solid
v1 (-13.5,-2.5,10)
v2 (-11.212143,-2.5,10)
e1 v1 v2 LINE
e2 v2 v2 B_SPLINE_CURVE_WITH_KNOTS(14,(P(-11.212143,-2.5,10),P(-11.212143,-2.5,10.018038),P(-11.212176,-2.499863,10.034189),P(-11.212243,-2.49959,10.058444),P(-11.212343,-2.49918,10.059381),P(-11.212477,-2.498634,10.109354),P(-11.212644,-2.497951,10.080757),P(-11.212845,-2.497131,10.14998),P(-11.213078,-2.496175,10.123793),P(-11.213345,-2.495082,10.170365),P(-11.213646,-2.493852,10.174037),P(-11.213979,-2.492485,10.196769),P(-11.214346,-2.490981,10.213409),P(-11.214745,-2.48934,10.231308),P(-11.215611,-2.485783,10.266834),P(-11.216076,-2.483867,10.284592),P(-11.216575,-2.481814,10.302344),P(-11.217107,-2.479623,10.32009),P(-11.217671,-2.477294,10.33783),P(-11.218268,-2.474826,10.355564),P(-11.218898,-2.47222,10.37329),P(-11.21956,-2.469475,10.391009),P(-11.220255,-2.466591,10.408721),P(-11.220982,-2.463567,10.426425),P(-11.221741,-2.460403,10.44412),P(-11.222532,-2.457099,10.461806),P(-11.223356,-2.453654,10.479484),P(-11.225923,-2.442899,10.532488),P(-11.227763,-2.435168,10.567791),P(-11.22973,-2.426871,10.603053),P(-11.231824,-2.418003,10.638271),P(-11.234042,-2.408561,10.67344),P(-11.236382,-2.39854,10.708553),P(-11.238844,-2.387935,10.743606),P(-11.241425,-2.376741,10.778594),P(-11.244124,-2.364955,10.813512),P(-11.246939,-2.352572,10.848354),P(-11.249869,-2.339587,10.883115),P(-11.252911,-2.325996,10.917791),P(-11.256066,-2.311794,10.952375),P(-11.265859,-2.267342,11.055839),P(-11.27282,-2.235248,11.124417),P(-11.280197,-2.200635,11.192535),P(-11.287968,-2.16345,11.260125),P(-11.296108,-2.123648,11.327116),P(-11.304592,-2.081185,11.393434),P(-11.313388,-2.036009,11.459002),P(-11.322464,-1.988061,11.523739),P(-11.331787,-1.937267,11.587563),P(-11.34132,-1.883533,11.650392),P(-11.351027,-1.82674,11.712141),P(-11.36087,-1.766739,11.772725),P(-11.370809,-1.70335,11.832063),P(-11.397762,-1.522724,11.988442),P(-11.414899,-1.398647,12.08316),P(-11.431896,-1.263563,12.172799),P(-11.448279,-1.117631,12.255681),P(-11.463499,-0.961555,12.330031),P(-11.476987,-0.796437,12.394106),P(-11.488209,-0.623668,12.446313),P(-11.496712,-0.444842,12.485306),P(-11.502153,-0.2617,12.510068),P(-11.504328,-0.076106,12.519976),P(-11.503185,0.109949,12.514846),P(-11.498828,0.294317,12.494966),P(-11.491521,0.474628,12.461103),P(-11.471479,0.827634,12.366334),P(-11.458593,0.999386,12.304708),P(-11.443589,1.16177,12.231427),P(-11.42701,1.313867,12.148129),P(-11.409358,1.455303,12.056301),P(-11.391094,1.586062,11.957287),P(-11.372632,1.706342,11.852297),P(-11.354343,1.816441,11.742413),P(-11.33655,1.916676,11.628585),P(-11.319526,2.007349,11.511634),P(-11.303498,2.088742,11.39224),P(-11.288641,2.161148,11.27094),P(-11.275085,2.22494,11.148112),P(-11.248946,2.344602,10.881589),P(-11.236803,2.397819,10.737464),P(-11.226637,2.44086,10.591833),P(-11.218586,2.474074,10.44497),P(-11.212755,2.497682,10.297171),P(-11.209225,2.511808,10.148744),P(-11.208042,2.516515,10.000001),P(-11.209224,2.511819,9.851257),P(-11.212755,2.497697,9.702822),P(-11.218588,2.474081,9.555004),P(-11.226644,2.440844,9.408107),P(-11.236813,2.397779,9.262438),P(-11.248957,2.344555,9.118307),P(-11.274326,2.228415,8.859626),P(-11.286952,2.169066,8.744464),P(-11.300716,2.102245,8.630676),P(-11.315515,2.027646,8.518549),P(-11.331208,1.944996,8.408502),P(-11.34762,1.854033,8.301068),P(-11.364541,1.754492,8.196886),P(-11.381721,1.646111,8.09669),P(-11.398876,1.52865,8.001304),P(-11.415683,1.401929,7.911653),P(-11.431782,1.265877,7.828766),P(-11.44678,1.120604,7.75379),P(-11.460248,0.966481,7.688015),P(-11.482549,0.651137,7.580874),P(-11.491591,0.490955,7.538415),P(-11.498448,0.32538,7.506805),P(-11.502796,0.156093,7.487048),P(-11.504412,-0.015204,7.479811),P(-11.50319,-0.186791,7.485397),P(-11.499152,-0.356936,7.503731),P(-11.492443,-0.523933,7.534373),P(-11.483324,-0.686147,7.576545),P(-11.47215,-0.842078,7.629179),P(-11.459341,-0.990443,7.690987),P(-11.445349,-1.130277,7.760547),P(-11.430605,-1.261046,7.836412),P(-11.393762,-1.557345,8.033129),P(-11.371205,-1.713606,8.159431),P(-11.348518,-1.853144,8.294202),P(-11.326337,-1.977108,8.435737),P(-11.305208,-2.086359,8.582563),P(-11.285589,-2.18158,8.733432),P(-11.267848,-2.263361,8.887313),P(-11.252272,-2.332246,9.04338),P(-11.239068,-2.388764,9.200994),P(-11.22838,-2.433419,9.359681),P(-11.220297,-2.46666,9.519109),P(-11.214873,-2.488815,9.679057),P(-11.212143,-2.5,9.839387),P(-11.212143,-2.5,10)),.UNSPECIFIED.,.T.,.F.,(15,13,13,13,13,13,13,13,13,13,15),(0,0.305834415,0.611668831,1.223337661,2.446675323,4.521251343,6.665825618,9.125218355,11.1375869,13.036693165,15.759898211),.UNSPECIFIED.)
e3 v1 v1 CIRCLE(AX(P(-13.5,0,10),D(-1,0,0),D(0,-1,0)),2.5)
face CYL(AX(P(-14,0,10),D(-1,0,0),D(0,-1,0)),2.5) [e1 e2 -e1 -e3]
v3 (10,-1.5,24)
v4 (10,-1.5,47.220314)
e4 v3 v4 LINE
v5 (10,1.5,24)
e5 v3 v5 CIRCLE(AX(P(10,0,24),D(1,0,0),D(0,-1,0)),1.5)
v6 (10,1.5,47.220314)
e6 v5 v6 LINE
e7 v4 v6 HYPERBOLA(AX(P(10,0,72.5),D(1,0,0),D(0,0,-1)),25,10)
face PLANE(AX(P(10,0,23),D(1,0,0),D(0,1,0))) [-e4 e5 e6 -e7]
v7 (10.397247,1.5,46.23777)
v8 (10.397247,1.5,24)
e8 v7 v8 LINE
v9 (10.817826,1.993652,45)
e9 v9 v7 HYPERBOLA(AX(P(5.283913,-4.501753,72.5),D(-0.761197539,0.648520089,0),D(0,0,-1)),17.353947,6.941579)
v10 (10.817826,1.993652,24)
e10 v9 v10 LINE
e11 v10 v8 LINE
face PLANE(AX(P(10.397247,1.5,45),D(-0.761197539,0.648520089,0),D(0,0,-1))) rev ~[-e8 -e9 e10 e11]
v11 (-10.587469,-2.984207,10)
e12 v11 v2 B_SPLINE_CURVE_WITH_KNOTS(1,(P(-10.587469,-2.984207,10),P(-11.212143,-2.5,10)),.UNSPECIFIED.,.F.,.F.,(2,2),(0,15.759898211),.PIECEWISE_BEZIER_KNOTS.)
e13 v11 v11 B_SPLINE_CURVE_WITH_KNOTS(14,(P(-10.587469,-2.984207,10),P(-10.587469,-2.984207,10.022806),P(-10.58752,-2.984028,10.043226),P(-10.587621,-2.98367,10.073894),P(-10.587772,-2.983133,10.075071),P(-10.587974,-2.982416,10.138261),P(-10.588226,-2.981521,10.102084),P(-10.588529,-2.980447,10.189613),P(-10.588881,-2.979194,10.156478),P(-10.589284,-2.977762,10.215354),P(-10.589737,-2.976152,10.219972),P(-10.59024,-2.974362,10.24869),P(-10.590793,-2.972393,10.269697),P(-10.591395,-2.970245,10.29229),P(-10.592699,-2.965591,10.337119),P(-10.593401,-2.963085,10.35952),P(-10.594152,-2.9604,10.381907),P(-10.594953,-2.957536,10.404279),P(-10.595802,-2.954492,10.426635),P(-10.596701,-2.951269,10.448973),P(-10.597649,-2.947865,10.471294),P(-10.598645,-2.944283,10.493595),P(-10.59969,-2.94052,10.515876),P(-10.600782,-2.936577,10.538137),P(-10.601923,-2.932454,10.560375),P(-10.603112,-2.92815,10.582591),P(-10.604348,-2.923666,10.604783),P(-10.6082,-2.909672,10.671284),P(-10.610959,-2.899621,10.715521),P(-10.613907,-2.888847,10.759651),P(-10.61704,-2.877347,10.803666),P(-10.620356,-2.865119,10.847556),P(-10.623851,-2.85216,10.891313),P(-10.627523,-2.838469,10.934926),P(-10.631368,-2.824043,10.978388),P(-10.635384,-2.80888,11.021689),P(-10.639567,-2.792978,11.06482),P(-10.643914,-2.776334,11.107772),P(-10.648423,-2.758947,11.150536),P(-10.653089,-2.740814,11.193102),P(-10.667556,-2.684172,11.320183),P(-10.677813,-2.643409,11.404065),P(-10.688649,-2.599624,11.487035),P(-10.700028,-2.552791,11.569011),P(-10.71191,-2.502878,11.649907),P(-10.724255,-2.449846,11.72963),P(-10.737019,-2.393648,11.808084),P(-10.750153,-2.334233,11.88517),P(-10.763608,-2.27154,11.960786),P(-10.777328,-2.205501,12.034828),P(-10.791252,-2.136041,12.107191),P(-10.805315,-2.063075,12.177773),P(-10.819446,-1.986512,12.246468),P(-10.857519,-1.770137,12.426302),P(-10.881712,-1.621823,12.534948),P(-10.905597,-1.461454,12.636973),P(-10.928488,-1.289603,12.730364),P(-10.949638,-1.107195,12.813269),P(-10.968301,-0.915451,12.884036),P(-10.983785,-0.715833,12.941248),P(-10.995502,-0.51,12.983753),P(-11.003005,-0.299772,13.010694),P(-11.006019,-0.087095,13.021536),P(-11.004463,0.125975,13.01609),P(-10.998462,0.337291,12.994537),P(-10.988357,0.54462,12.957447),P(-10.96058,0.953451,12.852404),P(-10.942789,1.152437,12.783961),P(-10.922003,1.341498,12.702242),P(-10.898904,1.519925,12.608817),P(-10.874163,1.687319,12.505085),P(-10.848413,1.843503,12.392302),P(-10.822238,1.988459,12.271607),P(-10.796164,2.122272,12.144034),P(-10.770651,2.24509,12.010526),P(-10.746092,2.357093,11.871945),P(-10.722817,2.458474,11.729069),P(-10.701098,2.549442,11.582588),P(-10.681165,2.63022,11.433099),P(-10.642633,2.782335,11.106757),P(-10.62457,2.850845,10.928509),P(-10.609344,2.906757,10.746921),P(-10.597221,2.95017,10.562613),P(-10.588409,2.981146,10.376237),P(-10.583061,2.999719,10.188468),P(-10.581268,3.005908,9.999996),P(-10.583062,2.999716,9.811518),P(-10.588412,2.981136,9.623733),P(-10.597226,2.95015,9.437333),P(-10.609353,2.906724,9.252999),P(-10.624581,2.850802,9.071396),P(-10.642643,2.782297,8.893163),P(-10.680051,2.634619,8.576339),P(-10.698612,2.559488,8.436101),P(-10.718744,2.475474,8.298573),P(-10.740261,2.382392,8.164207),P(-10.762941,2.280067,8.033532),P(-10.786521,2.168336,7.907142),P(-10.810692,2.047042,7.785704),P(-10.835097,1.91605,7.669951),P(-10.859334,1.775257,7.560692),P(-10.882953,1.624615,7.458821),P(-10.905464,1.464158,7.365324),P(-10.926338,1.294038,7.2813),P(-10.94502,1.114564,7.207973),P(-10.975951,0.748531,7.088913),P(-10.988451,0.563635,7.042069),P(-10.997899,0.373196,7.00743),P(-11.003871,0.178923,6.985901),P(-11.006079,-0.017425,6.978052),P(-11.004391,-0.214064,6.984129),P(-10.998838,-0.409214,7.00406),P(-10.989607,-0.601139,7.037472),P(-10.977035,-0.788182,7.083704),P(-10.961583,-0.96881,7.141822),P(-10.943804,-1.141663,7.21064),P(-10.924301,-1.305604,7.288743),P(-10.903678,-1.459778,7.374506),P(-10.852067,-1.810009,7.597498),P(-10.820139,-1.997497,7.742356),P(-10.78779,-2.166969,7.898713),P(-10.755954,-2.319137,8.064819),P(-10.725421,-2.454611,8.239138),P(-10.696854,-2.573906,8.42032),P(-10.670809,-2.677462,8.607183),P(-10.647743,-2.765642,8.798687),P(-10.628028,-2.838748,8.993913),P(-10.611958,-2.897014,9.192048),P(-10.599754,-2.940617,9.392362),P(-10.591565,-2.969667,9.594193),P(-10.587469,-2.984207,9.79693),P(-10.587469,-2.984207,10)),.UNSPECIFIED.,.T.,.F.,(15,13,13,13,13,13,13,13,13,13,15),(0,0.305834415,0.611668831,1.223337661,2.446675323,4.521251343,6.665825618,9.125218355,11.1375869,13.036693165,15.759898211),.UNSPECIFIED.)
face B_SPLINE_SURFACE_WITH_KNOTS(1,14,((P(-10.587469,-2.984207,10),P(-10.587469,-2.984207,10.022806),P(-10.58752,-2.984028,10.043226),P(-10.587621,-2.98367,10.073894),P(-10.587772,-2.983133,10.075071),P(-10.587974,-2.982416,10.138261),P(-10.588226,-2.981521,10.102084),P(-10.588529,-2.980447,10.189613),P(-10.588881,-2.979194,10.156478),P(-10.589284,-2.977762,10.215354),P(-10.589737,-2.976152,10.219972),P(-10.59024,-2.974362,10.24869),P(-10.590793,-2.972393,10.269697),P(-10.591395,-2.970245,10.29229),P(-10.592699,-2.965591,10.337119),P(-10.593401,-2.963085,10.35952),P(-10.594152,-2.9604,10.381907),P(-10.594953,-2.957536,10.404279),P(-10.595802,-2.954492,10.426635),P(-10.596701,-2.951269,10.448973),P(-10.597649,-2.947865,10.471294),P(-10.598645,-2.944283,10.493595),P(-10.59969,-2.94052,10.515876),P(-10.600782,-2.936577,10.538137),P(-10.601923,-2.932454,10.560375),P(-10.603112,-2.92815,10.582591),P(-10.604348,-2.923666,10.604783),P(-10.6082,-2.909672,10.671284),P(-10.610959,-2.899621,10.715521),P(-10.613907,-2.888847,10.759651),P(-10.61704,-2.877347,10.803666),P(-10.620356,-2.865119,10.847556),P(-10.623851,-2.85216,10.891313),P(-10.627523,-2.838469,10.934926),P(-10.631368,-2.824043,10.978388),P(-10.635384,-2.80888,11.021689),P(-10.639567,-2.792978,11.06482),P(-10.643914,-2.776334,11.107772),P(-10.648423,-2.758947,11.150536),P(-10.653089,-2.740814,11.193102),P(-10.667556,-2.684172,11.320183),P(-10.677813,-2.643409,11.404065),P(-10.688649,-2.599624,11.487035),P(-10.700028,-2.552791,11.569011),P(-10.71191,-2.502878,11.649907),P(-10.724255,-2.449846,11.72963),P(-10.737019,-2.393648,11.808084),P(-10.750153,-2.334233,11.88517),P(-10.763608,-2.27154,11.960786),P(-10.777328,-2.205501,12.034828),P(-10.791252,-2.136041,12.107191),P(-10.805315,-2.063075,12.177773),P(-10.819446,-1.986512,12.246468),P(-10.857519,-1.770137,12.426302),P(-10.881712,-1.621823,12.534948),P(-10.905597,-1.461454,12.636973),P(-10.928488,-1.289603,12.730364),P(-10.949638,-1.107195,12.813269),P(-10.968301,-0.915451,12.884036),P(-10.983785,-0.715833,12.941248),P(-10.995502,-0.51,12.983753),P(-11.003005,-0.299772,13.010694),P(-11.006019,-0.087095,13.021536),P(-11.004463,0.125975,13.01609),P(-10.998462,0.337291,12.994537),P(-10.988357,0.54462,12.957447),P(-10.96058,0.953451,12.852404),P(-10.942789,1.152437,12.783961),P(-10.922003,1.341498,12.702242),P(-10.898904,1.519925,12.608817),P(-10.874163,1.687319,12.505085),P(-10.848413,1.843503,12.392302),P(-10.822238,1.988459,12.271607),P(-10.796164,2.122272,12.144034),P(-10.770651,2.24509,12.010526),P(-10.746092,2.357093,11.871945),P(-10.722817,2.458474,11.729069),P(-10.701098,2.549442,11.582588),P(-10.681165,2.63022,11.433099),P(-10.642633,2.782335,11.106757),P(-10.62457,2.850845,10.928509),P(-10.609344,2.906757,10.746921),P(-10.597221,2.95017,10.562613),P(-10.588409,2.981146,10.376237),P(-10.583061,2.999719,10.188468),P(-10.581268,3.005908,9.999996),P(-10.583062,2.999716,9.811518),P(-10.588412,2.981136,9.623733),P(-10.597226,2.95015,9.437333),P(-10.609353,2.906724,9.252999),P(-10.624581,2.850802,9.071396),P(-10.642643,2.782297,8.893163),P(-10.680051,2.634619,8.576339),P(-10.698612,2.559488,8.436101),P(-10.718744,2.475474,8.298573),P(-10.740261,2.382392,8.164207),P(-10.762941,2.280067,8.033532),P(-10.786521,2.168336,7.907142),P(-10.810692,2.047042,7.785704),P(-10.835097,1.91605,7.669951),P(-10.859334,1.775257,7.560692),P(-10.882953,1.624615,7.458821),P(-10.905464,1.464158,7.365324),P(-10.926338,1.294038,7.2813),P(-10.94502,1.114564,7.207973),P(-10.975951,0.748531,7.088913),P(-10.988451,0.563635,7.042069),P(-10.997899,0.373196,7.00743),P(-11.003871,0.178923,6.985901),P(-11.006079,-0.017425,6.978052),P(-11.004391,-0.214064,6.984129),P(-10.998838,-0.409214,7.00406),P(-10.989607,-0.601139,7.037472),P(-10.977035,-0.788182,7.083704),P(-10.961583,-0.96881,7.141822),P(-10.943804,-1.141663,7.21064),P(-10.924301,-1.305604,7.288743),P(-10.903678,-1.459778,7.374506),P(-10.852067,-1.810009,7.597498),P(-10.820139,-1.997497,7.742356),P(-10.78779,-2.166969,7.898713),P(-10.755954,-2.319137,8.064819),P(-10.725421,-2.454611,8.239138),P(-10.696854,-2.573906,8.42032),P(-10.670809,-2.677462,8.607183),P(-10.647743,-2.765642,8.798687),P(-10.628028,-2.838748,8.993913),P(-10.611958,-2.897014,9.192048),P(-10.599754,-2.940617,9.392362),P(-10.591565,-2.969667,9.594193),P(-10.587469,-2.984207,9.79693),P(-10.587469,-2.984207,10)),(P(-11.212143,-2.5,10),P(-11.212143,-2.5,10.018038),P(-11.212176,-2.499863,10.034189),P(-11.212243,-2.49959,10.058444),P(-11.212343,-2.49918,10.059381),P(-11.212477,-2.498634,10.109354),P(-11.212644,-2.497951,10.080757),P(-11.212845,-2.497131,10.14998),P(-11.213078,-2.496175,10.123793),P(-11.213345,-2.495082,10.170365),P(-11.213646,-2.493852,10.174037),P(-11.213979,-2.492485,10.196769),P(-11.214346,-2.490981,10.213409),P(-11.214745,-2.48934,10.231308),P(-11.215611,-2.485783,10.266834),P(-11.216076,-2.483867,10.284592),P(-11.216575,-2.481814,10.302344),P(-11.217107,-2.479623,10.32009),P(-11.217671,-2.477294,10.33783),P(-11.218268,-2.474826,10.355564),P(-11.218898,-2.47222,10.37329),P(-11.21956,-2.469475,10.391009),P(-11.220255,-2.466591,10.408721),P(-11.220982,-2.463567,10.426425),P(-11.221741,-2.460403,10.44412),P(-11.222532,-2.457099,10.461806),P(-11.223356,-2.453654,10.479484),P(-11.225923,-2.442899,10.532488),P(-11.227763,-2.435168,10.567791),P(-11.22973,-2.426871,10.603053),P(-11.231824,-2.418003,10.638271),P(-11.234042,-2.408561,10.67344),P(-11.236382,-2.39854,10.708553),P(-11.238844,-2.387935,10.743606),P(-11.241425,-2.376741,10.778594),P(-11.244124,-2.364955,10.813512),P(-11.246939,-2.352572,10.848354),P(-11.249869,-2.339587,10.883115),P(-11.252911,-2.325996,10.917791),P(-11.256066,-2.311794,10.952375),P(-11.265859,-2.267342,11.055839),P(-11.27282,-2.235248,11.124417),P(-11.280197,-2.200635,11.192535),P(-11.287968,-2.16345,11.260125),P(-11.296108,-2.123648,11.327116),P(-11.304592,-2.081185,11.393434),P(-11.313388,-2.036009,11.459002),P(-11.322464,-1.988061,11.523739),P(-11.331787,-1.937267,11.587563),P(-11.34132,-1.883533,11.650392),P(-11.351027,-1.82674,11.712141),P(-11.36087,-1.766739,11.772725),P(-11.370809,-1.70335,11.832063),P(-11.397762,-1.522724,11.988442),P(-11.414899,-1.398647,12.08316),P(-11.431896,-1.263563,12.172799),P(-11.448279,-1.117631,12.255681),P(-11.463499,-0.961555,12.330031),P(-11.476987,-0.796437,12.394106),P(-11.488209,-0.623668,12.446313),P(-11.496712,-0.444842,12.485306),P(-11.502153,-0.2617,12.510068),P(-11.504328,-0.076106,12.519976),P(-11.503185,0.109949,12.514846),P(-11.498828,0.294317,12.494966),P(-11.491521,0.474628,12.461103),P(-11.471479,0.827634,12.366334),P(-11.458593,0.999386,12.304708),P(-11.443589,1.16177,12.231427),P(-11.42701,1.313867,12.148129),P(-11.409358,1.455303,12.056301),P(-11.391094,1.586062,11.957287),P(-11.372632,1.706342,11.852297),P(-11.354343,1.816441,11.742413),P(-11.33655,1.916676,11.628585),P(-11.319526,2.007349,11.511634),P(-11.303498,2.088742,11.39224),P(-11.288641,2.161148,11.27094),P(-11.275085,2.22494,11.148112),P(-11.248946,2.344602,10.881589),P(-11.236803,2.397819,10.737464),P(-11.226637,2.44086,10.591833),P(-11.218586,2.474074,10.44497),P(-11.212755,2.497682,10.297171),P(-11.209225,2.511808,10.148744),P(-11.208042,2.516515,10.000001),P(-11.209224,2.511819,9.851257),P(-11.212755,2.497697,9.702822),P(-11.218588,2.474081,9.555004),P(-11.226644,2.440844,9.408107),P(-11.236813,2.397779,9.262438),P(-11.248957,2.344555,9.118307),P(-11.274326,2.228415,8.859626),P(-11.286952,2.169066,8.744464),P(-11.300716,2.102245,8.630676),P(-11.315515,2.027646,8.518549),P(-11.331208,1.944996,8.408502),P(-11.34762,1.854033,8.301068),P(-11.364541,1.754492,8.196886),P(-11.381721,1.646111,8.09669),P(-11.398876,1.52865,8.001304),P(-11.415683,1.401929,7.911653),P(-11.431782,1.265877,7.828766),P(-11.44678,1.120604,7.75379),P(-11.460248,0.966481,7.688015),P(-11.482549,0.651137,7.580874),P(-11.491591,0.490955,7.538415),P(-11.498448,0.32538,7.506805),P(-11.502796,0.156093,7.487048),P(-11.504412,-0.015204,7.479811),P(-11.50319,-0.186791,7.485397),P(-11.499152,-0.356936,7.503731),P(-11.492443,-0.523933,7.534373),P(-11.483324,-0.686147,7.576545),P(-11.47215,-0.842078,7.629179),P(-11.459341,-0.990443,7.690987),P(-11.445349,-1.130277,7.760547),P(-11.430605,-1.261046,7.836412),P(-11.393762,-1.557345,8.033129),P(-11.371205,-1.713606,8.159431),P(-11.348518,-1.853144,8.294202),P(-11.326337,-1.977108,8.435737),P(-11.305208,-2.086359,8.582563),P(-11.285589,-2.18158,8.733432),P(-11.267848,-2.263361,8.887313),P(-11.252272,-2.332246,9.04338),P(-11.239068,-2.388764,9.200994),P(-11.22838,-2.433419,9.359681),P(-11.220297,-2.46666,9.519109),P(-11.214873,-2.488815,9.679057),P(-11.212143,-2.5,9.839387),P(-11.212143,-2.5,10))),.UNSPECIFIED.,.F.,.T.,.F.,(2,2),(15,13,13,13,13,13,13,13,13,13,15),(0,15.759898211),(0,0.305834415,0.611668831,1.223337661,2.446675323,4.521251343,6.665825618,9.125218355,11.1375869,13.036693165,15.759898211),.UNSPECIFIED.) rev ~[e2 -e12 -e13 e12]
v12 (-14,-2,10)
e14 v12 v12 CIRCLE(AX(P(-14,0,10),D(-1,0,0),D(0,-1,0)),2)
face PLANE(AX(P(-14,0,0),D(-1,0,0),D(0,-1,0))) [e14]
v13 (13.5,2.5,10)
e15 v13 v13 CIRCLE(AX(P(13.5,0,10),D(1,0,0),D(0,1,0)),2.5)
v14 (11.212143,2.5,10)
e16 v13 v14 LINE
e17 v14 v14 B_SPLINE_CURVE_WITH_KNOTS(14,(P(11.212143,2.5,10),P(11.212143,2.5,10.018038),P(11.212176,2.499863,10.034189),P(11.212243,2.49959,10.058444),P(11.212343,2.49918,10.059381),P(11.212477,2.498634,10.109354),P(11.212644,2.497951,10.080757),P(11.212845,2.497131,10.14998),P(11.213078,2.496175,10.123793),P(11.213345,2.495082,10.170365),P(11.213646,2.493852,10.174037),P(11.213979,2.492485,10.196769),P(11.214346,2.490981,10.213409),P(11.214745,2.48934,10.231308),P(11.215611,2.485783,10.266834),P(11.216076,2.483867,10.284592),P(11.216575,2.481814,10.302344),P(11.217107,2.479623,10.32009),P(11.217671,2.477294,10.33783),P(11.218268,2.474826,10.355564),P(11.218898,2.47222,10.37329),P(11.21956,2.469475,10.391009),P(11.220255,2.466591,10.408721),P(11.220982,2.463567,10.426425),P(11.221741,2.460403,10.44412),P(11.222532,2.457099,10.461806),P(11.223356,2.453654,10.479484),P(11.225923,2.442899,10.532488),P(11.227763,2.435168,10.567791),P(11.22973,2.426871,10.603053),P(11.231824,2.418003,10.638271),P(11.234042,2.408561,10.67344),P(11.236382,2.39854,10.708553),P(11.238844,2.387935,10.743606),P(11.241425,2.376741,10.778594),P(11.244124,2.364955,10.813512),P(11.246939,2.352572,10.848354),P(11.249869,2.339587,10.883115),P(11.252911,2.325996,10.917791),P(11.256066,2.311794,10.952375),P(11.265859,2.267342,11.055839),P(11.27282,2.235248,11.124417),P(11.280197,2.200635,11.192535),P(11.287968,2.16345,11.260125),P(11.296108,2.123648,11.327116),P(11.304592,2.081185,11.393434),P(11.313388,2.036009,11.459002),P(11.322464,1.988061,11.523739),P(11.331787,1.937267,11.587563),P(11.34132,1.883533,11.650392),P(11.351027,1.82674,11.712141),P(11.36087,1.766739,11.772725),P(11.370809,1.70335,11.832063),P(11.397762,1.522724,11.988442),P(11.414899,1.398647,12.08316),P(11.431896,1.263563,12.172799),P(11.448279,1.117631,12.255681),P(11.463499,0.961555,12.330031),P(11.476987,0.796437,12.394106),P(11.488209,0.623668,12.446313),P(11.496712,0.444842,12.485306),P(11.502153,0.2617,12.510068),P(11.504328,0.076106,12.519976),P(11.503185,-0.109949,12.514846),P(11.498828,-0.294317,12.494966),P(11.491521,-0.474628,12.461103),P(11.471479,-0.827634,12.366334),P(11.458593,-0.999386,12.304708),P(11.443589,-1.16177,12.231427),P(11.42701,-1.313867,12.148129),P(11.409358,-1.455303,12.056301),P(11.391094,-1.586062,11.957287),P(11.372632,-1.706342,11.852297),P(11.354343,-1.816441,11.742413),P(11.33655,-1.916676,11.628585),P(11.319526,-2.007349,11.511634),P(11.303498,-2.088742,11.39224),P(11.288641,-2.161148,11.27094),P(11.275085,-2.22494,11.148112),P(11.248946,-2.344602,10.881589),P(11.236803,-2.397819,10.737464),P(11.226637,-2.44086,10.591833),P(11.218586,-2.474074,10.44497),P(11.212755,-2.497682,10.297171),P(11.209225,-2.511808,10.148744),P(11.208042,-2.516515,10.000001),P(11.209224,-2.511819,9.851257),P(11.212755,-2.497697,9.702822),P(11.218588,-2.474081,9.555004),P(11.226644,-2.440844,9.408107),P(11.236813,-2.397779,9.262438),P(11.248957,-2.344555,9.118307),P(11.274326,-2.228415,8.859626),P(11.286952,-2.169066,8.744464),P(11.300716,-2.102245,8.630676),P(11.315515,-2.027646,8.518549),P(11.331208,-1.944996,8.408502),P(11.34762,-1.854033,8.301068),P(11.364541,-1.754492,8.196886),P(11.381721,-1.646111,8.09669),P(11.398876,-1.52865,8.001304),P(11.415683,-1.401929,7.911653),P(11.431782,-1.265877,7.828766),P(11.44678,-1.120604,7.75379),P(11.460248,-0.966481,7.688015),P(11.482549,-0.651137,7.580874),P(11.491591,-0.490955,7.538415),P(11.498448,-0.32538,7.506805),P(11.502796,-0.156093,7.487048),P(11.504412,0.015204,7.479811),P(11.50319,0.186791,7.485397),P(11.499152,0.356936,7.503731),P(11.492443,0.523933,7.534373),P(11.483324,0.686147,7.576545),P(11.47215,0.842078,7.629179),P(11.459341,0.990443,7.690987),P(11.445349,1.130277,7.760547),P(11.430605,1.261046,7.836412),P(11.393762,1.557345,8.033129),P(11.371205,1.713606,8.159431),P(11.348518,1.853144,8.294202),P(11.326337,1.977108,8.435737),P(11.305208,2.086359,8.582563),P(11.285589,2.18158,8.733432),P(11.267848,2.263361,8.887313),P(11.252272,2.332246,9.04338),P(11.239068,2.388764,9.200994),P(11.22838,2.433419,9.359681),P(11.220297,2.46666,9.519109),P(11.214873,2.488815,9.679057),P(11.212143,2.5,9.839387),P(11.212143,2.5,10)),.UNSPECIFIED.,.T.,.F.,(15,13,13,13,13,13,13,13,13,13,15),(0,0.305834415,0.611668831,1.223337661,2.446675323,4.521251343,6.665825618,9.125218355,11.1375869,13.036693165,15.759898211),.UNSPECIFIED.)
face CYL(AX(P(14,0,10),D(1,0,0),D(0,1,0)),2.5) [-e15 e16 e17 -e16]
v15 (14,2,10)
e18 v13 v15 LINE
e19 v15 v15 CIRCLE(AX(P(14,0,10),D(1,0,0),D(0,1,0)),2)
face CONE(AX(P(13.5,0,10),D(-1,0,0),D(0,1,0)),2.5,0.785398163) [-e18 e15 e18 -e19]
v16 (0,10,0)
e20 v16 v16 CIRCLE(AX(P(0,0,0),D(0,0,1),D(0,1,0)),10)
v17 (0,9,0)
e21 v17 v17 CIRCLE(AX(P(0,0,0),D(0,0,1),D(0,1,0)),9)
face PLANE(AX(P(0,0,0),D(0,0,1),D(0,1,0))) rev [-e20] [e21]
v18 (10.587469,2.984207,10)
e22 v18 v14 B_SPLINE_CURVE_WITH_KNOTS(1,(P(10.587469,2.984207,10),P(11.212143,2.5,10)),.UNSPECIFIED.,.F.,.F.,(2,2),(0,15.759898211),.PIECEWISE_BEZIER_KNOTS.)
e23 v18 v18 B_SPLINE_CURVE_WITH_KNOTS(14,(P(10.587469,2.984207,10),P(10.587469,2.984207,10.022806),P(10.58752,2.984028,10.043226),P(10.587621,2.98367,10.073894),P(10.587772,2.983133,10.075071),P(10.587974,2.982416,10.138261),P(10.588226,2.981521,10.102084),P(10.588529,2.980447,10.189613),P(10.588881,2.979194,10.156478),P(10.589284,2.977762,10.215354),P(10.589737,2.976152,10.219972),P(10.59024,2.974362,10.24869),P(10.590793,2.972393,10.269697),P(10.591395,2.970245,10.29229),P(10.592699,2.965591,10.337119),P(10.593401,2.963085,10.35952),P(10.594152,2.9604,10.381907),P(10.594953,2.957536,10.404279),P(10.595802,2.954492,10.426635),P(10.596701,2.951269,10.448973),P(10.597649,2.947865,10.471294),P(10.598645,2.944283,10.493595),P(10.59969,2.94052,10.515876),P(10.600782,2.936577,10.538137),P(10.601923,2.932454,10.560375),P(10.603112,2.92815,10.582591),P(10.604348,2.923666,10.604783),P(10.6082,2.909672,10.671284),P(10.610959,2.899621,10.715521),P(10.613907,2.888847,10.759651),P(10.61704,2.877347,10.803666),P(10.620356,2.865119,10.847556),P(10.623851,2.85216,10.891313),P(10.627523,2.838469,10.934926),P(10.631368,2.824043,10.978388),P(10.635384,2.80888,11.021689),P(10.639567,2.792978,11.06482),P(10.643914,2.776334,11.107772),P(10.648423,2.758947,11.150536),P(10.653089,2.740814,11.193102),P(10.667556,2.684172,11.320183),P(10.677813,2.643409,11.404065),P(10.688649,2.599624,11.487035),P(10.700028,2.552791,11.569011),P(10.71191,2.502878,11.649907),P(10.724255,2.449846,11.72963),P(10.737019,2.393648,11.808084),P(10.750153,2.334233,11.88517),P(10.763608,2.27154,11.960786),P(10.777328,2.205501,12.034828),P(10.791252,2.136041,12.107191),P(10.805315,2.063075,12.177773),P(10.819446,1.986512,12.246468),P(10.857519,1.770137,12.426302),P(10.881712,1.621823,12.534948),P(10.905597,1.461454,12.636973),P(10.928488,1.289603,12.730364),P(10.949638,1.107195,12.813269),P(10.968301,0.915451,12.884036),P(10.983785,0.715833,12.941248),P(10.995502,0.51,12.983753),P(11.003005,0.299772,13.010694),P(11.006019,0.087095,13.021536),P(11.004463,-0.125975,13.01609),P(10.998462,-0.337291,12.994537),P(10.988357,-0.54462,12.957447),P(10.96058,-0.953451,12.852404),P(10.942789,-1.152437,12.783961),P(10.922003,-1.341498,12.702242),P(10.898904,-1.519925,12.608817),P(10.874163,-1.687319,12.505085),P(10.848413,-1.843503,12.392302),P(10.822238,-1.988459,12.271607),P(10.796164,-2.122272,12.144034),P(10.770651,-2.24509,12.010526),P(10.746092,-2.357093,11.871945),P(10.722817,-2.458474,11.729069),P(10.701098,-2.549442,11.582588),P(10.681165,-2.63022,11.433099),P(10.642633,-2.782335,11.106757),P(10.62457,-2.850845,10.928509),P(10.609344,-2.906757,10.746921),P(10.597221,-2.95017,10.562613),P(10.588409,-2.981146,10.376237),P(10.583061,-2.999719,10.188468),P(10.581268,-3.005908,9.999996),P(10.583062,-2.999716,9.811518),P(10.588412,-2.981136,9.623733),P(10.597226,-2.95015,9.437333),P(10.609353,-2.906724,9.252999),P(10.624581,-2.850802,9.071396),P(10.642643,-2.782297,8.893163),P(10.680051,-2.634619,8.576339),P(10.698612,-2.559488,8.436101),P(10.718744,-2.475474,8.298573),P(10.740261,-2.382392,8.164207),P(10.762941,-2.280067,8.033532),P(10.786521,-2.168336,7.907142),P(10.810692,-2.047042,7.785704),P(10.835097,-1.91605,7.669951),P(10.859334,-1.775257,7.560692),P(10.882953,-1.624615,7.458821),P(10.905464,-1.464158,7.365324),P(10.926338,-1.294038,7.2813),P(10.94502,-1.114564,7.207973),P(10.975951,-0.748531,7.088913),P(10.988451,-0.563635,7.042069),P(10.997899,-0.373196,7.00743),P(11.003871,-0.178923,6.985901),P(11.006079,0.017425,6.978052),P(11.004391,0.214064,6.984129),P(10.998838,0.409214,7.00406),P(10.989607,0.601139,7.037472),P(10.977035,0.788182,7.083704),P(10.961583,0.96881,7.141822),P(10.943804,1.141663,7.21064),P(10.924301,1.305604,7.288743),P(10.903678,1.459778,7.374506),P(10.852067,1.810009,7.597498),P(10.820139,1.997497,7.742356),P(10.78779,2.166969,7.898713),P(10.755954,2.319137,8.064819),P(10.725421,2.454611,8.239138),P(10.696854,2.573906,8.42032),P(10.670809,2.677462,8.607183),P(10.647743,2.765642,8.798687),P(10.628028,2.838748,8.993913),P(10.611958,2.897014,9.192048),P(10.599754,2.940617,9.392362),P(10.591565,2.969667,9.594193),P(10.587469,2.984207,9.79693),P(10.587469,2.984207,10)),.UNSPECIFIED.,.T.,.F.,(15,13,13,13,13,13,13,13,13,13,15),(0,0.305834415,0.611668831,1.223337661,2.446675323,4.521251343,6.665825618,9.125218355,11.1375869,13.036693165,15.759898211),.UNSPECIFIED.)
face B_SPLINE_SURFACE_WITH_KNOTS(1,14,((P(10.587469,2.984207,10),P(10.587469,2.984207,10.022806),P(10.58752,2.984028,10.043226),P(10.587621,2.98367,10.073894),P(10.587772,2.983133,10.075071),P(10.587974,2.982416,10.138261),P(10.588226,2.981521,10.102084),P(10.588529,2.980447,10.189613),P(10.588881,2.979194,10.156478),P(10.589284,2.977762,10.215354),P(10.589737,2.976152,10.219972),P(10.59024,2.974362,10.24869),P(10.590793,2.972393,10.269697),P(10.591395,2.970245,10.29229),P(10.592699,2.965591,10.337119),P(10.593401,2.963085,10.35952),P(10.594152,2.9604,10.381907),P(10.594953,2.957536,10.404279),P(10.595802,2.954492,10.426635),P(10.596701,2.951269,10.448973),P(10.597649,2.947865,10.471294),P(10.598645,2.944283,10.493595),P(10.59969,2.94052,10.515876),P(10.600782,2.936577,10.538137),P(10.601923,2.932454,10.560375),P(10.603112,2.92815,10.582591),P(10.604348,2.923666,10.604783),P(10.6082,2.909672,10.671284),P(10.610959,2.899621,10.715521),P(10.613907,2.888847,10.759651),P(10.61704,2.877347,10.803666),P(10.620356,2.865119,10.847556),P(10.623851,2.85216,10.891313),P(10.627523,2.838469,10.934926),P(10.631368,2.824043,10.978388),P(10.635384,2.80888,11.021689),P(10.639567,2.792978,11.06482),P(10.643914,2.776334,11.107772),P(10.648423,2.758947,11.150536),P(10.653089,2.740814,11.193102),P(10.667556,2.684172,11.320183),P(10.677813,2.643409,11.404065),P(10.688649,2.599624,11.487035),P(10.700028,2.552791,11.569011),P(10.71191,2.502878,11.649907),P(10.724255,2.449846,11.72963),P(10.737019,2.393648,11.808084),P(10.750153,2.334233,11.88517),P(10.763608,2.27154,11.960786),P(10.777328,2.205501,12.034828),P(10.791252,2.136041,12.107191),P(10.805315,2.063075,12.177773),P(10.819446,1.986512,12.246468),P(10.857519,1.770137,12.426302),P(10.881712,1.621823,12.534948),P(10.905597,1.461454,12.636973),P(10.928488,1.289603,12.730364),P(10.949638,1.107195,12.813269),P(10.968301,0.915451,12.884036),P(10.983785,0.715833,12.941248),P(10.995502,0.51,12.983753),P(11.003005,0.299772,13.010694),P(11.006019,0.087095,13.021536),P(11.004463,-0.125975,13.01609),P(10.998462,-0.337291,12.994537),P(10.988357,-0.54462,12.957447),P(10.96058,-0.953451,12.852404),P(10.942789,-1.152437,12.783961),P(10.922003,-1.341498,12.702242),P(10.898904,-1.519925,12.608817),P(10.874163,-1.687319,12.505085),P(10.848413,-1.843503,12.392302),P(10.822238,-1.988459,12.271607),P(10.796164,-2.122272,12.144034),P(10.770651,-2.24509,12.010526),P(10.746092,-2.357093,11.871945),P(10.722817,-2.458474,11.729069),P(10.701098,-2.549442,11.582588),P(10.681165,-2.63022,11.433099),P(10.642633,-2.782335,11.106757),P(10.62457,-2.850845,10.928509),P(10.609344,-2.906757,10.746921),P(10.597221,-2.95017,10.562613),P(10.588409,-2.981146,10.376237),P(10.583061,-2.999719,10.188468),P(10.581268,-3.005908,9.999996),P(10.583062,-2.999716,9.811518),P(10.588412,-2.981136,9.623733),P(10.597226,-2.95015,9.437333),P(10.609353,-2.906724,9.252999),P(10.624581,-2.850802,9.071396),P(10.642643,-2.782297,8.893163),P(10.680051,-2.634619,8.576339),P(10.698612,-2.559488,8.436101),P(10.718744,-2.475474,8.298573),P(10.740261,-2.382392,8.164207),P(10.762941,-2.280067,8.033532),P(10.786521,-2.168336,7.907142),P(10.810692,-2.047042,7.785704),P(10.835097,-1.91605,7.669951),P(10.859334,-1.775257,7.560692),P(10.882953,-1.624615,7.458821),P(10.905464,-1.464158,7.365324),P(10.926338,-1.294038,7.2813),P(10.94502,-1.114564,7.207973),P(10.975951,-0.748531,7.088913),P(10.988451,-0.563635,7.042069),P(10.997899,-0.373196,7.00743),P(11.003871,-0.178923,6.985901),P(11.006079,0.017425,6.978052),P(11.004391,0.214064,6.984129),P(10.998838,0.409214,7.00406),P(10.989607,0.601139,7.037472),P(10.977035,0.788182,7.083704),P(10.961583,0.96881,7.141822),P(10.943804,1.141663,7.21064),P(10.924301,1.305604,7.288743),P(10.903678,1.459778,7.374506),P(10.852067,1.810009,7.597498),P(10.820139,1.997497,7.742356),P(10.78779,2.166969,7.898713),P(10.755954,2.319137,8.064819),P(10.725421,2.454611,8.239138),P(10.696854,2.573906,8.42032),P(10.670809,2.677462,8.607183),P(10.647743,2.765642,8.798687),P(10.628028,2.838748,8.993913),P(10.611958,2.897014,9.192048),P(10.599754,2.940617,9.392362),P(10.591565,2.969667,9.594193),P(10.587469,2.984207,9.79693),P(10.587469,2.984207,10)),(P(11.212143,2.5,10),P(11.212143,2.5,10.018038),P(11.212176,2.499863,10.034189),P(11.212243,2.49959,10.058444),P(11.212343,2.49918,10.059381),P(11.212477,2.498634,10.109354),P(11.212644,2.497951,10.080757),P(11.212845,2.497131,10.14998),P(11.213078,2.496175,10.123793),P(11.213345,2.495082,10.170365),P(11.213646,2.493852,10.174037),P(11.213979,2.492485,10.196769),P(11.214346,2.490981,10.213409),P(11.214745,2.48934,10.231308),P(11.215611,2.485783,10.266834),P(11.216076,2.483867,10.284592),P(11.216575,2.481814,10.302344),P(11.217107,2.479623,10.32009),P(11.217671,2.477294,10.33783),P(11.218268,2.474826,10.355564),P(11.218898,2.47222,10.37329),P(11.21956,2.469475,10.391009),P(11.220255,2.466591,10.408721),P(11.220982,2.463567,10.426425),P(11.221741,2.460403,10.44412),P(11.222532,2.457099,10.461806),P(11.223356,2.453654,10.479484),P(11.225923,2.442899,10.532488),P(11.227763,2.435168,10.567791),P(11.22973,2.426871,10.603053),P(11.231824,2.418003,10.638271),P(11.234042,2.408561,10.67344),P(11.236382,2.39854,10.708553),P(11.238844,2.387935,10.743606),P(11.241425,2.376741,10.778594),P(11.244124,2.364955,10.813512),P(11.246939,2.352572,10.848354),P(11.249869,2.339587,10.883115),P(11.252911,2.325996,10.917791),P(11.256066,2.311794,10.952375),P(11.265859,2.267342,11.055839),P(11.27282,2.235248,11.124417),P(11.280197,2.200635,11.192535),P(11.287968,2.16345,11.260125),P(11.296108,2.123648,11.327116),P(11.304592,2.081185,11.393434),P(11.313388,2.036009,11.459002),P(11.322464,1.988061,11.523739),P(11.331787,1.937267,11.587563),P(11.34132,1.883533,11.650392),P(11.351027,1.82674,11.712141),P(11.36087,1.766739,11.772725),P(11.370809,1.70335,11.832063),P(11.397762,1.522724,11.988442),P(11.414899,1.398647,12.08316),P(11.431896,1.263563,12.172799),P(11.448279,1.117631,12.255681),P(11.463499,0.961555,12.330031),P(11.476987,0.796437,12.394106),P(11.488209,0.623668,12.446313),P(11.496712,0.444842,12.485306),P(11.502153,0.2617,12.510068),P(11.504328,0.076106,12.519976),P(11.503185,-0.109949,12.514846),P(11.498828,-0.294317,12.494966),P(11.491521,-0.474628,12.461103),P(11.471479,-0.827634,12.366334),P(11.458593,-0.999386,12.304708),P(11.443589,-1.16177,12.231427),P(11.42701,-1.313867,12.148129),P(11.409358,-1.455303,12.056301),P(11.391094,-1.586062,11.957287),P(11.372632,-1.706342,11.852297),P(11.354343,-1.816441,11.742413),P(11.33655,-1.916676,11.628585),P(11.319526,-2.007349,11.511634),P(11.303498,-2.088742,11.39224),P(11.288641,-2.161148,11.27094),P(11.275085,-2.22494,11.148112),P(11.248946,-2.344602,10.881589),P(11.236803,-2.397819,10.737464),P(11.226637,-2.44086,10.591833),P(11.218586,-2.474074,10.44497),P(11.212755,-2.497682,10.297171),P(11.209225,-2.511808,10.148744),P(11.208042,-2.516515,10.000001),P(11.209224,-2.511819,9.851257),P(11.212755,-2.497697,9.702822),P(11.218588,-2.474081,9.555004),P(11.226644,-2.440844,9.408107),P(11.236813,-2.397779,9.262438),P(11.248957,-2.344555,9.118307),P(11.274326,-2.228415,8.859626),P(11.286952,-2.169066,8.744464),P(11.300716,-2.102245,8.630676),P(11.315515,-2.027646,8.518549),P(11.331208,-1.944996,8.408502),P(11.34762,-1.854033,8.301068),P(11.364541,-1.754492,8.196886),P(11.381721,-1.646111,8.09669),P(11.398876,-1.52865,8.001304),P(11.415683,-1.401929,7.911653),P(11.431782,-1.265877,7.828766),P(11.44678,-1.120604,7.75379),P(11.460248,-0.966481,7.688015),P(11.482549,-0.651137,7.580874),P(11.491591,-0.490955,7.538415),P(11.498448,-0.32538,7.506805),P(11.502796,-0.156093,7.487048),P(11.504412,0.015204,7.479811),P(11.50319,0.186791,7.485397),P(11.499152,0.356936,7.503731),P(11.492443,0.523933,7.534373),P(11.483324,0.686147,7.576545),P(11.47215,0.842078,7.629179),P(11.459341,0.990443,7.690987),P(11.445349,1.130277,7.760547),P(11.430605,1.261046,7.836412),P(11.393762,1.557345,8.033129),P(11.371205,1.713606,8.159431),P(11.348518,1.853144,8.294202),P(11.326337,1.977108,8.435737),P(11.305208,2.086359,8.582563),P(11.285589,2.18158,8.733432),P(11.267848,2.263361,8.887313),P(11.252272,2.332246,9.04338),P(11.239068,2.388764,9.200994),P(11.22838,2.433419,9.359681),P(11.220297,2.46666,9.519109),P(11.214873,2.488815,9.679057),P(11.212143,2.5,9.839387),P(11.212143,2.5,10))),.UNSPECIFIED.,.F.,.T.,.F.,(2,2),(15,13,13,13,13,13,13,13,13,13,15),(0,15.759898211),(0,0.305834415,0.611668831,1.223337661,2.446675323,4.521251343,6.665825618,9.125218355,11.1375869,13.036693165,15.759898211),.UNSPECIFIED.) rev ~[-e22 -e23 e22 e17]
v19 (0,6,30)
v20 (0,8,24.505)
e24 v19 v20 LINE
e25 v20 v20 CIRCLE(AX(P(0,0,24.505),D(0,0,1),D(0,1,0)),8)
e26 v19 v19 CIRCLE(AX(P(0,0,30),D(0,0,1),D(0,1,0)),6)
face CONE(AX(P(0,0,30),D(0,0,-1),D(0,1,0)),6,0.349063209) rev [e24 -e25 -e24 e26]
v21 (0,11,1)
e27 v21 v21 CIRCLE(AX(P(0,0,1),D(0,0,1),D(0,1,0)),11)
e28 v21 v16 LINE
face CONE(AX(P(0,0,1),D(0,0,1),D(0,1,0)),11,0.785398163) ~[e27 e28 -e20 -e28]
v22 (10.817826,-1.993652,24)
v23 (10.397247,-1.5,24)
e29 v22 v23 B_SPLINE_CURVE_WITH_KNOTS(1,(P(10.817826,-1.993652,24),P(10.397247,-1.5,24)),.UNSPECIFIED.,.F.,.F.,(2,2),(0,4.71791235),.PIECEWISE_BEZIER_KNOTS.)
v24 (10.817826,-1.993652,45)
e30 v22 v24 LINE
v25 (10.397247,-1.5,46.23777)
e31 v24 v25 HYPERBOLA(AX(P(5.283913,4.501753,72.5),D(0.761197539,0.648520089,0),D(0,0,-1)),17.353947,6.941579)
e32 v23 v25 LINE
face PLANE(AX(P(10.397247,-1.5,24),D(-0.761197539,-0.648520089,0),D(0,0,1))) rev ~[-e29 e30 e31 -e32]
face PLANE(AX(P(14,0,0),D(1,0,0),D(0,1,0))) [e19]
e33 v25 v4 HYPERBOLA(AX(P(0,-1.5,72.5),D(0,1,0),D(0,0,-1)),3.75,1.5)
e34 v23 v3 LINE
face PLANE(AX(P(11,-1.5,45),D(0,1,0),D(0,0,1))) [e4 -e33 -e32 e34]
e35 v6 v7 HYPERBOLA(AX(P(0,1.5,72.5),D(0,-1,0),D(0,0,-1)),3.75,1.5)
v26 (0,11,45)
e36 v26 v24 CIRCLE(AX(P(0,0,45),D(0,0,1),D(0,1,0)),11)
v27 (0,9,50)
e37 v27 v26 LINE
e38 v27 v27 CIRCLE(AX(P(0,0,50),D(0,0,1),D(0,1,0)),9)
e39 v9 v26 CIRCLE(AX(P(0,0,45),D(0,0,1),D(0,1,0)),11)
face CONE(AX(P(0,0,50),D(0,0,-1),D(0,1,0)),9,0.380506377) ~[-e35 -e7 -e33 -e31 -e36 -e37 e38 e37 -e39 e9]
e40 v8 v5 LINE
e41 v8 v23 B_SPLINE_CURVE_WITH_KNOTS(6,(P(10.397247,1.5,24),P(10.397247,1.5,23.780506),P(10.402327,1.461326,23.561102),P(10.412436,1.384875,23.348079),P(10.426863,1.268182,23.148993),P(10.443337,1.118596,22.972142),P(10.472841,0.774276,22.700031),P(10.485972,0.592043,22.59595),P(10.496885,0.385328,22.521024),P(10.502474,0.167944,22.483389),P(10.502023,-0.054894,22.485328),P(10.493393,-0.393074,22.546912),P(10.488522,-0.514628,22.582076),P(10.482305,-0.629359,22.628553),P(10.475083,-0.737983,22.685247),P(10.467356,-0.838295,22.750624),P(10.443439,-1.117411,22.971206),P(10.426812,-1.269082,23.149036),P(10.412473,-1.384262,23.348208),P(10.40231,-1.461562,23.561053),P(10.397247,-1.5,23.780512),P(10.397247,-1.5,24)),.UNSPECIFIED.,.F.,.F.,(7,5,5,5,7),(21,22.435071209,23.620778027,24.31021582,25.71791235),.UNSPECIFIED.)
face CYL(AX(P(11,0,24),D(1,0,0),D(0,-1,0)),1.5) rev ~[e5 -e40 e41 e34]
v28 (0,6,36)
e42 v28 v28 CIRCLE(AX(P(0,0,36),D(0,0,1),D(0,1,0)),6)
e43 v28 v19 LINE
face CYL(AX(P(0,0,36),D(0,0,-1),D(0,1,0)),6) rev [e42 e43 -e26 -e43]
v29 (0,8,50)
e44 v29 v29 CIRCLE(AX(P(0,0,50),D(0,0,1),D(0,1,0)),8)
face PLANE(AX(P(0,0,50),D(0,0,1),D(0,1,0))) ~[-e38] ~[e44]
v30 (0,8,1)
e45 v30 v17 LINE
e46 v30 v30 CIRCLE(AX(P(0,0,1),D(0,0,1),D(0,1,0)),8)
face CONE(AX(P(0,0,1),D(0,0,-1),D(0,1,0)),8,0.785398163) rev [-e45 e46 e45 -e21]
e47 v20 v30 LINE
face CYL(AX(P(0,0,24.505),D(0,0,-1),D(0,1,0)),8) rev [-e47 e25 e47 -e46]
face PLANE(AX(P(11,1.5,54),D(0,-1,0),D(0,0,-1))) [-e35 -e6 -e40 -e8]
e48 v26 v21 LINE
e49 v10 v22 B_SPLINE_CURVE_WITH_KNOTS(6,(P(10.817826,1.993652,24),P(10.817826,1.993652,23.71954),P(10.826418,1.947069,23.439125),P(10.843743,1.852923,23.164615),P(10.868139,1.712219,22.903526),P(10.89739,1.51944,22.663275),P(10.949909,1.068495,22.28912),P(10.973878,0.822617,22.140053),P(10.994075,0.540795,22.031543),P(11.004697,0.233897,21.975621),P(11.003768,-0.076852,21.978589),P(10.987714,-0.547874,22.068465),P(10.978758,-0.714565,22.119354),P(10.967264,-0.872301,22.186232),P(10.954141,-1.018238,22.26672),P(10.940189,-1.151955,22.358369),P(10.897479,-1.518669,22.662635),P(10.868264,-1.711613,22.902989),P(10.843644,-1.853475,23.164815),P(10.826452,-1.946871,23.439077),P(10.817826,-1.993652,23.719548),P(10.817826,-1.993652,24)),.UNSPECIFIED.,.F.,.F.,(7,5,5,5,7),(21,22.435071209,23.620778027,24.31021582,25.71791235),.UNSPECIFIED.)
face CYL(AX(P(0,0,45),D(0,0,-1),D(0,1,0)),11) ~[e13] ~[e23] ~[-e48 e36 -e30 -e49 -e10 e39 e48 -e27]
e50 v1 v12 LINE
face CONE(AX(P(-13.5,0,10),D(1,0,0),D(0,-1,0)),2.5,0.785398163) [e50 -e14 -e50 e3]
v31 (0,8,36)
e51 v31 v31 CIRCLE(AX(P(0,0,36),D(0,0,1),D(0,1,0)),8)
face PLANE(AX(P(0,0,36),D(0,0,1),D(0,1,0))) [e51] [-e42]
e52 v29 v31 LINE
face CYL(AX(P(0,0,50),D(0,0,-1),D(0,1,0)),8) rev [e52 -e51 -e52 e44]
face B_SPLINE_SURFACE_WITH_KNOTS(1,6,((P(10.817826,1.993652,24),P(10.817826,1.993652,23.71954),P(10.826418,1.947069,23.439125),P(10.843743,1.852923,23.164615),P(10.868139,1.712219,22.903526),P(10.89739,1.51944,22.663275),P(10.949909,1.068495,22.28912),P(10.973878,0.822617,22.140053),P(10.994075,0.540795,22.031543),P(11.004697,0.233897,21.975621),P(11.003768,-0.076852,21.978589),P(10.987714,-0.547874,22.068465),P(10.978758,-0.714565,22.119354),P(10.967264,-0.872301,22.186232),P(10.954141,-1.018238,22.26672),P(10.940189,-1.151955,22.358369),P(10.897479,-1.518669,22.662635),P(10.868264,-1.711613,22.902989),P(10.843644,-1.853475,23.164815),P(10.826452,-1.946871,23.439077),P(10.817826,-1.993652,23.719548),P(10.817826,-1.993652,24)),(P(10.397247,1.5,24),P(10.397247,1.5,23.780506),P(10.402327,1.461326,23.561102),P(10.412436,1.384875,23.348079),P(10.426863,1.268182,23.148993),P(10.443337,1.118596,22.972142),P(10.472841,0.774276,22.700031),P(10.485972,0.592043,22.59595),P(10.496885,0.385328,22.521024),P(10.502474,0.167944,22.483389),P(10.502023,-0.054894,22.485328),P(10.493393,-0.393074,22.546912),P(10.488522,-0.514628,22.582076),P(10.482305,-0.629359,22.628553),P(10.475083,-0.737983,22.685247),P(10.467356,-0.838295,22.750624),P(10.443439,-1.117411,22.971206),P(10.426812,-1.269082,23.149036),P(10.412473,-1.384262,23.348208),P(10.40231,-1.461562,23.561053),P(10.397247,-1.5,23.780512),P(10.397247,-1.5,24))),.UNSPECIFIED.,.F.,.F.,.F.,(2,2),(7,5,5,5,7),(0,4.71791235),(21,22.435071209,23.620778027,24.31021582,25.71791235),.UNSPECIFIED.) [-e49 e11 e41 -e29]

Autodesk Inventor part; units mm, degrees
ref_plane "XZ Plane" through (0, 0, 0) normal (0, 1, 0) x (-1, 0, 0)
sketch "Esquisse1" plane through (0, 0, 0) normal (1, 0, 0) x (0, 1, 0)
  line L0 (0, 0) -> (0, 17.1522)
  line L1 (8, 50) -> (8, 36)
  line L2 (8, 36) -> (6, 36)
  line L3 (6, 36) -> (6, 30)
  line L4 (6, 30) -> (8, 24.505)
  line L5 (8, 24.505) -> (8, 1)
  line L6 (8, 1) -> (9, 0)
  line L7 (9, 0) -> (10, 0)
  line L8 (8, 50) -> (9, 50)
  line L9 (9, 50) -> (11, 45)
  line L10 (11, 45) -> (11, 1)
  line L11 (11, 1) -> (10, 0)
  dimension "d0" = 160
  dimension "d1" = 6
  dimension "d2" = 14
  dimension "d4" = 16
  dimension "d6" = 16
  dimension "d8" = 1
  dimension "d9" = 1
  dimension "d10" = 30
  dimension "d11" = 1
  dimension "d12" = 2
  dimension "d13" = 22
  dimension "d14" = 3
  dimension "d15" = 5
  dimension "d19" = 1
  dimension "d20" = 1
revolve "Révolution1" add sketch "Esquisse1" angle 360 about axis through (0, 0, 0) along (0, 0, 1)
thread "Filetage1" size "M16x2" class "6H" standard "ISO Metric profile" full length
ref_plane "Plan de construction2" through (14, 0, 0) normal (1, 0, 0) x (0, 1, 0)
sketch "Esquisse2" plane through (14, 0, 0) normal (1, 0, 0) x (0, 1, 0)
  circle A0 centre (0, 10) radius 2.5
  point P0 (0, 0)
  dimension "d22" = 5
  dimension "d23" = 10
extrude "Extrusion1" add sketch "Esquisse2" against normal up to surface
chamfer "Chanfrein1" distance 0.5 angle 45 2 edges at (10.7122, -2.5, 10.0138) (14, -2.5, 10)
pattern_circular "Réseau circulaire1" count 2 over 360 about axis through (0, 0, -10) along (0, 0, 1) of "Extrusion1", "Chanfrein1"
ref_plane "Plan de construction3" through (11, 0, 23) normal (1, 0, 0) x (0, 1, 0)
sketch "Esquisse4" plane through (11, 0, 23) normal (1, 0, 0) x (0, 1, 0)
  line L0 (0, 31) -> (0, 1) construction
  line L1 (1.5, 31) -> (1.5, 1)
  line L2 (-1.5, 1) -> (-1.5, 31)
  arc A0 (1.5, 31) -> (-1.5, 31) centre (0, 31) ccw
  arc A1 (-1.5, 1) -> (1.5, 1) centre (0, 1) ccw
  line L3 (-11, 22) -> (11, 22) projected
  point P0 (0, -23)
  point P1 (0, 16)
  dimension "d39" = 1.5
  dimension "d40" = 30
  dimension "d47" = 24
extrude "Extrusion2" cut sketch "Esquisse4" against normal blind 1
chamfer "Chanfrein3" distance 0.5 angle 45 4 edges at (10.8972, 1.5, 34.5) (10.9487, -1.0614, 22.9401) (10.9417, 1.131, 23.0147) (10.8972, -1.5, 34.5)
properties part number "support_douille" material "Aluminium 6061"
